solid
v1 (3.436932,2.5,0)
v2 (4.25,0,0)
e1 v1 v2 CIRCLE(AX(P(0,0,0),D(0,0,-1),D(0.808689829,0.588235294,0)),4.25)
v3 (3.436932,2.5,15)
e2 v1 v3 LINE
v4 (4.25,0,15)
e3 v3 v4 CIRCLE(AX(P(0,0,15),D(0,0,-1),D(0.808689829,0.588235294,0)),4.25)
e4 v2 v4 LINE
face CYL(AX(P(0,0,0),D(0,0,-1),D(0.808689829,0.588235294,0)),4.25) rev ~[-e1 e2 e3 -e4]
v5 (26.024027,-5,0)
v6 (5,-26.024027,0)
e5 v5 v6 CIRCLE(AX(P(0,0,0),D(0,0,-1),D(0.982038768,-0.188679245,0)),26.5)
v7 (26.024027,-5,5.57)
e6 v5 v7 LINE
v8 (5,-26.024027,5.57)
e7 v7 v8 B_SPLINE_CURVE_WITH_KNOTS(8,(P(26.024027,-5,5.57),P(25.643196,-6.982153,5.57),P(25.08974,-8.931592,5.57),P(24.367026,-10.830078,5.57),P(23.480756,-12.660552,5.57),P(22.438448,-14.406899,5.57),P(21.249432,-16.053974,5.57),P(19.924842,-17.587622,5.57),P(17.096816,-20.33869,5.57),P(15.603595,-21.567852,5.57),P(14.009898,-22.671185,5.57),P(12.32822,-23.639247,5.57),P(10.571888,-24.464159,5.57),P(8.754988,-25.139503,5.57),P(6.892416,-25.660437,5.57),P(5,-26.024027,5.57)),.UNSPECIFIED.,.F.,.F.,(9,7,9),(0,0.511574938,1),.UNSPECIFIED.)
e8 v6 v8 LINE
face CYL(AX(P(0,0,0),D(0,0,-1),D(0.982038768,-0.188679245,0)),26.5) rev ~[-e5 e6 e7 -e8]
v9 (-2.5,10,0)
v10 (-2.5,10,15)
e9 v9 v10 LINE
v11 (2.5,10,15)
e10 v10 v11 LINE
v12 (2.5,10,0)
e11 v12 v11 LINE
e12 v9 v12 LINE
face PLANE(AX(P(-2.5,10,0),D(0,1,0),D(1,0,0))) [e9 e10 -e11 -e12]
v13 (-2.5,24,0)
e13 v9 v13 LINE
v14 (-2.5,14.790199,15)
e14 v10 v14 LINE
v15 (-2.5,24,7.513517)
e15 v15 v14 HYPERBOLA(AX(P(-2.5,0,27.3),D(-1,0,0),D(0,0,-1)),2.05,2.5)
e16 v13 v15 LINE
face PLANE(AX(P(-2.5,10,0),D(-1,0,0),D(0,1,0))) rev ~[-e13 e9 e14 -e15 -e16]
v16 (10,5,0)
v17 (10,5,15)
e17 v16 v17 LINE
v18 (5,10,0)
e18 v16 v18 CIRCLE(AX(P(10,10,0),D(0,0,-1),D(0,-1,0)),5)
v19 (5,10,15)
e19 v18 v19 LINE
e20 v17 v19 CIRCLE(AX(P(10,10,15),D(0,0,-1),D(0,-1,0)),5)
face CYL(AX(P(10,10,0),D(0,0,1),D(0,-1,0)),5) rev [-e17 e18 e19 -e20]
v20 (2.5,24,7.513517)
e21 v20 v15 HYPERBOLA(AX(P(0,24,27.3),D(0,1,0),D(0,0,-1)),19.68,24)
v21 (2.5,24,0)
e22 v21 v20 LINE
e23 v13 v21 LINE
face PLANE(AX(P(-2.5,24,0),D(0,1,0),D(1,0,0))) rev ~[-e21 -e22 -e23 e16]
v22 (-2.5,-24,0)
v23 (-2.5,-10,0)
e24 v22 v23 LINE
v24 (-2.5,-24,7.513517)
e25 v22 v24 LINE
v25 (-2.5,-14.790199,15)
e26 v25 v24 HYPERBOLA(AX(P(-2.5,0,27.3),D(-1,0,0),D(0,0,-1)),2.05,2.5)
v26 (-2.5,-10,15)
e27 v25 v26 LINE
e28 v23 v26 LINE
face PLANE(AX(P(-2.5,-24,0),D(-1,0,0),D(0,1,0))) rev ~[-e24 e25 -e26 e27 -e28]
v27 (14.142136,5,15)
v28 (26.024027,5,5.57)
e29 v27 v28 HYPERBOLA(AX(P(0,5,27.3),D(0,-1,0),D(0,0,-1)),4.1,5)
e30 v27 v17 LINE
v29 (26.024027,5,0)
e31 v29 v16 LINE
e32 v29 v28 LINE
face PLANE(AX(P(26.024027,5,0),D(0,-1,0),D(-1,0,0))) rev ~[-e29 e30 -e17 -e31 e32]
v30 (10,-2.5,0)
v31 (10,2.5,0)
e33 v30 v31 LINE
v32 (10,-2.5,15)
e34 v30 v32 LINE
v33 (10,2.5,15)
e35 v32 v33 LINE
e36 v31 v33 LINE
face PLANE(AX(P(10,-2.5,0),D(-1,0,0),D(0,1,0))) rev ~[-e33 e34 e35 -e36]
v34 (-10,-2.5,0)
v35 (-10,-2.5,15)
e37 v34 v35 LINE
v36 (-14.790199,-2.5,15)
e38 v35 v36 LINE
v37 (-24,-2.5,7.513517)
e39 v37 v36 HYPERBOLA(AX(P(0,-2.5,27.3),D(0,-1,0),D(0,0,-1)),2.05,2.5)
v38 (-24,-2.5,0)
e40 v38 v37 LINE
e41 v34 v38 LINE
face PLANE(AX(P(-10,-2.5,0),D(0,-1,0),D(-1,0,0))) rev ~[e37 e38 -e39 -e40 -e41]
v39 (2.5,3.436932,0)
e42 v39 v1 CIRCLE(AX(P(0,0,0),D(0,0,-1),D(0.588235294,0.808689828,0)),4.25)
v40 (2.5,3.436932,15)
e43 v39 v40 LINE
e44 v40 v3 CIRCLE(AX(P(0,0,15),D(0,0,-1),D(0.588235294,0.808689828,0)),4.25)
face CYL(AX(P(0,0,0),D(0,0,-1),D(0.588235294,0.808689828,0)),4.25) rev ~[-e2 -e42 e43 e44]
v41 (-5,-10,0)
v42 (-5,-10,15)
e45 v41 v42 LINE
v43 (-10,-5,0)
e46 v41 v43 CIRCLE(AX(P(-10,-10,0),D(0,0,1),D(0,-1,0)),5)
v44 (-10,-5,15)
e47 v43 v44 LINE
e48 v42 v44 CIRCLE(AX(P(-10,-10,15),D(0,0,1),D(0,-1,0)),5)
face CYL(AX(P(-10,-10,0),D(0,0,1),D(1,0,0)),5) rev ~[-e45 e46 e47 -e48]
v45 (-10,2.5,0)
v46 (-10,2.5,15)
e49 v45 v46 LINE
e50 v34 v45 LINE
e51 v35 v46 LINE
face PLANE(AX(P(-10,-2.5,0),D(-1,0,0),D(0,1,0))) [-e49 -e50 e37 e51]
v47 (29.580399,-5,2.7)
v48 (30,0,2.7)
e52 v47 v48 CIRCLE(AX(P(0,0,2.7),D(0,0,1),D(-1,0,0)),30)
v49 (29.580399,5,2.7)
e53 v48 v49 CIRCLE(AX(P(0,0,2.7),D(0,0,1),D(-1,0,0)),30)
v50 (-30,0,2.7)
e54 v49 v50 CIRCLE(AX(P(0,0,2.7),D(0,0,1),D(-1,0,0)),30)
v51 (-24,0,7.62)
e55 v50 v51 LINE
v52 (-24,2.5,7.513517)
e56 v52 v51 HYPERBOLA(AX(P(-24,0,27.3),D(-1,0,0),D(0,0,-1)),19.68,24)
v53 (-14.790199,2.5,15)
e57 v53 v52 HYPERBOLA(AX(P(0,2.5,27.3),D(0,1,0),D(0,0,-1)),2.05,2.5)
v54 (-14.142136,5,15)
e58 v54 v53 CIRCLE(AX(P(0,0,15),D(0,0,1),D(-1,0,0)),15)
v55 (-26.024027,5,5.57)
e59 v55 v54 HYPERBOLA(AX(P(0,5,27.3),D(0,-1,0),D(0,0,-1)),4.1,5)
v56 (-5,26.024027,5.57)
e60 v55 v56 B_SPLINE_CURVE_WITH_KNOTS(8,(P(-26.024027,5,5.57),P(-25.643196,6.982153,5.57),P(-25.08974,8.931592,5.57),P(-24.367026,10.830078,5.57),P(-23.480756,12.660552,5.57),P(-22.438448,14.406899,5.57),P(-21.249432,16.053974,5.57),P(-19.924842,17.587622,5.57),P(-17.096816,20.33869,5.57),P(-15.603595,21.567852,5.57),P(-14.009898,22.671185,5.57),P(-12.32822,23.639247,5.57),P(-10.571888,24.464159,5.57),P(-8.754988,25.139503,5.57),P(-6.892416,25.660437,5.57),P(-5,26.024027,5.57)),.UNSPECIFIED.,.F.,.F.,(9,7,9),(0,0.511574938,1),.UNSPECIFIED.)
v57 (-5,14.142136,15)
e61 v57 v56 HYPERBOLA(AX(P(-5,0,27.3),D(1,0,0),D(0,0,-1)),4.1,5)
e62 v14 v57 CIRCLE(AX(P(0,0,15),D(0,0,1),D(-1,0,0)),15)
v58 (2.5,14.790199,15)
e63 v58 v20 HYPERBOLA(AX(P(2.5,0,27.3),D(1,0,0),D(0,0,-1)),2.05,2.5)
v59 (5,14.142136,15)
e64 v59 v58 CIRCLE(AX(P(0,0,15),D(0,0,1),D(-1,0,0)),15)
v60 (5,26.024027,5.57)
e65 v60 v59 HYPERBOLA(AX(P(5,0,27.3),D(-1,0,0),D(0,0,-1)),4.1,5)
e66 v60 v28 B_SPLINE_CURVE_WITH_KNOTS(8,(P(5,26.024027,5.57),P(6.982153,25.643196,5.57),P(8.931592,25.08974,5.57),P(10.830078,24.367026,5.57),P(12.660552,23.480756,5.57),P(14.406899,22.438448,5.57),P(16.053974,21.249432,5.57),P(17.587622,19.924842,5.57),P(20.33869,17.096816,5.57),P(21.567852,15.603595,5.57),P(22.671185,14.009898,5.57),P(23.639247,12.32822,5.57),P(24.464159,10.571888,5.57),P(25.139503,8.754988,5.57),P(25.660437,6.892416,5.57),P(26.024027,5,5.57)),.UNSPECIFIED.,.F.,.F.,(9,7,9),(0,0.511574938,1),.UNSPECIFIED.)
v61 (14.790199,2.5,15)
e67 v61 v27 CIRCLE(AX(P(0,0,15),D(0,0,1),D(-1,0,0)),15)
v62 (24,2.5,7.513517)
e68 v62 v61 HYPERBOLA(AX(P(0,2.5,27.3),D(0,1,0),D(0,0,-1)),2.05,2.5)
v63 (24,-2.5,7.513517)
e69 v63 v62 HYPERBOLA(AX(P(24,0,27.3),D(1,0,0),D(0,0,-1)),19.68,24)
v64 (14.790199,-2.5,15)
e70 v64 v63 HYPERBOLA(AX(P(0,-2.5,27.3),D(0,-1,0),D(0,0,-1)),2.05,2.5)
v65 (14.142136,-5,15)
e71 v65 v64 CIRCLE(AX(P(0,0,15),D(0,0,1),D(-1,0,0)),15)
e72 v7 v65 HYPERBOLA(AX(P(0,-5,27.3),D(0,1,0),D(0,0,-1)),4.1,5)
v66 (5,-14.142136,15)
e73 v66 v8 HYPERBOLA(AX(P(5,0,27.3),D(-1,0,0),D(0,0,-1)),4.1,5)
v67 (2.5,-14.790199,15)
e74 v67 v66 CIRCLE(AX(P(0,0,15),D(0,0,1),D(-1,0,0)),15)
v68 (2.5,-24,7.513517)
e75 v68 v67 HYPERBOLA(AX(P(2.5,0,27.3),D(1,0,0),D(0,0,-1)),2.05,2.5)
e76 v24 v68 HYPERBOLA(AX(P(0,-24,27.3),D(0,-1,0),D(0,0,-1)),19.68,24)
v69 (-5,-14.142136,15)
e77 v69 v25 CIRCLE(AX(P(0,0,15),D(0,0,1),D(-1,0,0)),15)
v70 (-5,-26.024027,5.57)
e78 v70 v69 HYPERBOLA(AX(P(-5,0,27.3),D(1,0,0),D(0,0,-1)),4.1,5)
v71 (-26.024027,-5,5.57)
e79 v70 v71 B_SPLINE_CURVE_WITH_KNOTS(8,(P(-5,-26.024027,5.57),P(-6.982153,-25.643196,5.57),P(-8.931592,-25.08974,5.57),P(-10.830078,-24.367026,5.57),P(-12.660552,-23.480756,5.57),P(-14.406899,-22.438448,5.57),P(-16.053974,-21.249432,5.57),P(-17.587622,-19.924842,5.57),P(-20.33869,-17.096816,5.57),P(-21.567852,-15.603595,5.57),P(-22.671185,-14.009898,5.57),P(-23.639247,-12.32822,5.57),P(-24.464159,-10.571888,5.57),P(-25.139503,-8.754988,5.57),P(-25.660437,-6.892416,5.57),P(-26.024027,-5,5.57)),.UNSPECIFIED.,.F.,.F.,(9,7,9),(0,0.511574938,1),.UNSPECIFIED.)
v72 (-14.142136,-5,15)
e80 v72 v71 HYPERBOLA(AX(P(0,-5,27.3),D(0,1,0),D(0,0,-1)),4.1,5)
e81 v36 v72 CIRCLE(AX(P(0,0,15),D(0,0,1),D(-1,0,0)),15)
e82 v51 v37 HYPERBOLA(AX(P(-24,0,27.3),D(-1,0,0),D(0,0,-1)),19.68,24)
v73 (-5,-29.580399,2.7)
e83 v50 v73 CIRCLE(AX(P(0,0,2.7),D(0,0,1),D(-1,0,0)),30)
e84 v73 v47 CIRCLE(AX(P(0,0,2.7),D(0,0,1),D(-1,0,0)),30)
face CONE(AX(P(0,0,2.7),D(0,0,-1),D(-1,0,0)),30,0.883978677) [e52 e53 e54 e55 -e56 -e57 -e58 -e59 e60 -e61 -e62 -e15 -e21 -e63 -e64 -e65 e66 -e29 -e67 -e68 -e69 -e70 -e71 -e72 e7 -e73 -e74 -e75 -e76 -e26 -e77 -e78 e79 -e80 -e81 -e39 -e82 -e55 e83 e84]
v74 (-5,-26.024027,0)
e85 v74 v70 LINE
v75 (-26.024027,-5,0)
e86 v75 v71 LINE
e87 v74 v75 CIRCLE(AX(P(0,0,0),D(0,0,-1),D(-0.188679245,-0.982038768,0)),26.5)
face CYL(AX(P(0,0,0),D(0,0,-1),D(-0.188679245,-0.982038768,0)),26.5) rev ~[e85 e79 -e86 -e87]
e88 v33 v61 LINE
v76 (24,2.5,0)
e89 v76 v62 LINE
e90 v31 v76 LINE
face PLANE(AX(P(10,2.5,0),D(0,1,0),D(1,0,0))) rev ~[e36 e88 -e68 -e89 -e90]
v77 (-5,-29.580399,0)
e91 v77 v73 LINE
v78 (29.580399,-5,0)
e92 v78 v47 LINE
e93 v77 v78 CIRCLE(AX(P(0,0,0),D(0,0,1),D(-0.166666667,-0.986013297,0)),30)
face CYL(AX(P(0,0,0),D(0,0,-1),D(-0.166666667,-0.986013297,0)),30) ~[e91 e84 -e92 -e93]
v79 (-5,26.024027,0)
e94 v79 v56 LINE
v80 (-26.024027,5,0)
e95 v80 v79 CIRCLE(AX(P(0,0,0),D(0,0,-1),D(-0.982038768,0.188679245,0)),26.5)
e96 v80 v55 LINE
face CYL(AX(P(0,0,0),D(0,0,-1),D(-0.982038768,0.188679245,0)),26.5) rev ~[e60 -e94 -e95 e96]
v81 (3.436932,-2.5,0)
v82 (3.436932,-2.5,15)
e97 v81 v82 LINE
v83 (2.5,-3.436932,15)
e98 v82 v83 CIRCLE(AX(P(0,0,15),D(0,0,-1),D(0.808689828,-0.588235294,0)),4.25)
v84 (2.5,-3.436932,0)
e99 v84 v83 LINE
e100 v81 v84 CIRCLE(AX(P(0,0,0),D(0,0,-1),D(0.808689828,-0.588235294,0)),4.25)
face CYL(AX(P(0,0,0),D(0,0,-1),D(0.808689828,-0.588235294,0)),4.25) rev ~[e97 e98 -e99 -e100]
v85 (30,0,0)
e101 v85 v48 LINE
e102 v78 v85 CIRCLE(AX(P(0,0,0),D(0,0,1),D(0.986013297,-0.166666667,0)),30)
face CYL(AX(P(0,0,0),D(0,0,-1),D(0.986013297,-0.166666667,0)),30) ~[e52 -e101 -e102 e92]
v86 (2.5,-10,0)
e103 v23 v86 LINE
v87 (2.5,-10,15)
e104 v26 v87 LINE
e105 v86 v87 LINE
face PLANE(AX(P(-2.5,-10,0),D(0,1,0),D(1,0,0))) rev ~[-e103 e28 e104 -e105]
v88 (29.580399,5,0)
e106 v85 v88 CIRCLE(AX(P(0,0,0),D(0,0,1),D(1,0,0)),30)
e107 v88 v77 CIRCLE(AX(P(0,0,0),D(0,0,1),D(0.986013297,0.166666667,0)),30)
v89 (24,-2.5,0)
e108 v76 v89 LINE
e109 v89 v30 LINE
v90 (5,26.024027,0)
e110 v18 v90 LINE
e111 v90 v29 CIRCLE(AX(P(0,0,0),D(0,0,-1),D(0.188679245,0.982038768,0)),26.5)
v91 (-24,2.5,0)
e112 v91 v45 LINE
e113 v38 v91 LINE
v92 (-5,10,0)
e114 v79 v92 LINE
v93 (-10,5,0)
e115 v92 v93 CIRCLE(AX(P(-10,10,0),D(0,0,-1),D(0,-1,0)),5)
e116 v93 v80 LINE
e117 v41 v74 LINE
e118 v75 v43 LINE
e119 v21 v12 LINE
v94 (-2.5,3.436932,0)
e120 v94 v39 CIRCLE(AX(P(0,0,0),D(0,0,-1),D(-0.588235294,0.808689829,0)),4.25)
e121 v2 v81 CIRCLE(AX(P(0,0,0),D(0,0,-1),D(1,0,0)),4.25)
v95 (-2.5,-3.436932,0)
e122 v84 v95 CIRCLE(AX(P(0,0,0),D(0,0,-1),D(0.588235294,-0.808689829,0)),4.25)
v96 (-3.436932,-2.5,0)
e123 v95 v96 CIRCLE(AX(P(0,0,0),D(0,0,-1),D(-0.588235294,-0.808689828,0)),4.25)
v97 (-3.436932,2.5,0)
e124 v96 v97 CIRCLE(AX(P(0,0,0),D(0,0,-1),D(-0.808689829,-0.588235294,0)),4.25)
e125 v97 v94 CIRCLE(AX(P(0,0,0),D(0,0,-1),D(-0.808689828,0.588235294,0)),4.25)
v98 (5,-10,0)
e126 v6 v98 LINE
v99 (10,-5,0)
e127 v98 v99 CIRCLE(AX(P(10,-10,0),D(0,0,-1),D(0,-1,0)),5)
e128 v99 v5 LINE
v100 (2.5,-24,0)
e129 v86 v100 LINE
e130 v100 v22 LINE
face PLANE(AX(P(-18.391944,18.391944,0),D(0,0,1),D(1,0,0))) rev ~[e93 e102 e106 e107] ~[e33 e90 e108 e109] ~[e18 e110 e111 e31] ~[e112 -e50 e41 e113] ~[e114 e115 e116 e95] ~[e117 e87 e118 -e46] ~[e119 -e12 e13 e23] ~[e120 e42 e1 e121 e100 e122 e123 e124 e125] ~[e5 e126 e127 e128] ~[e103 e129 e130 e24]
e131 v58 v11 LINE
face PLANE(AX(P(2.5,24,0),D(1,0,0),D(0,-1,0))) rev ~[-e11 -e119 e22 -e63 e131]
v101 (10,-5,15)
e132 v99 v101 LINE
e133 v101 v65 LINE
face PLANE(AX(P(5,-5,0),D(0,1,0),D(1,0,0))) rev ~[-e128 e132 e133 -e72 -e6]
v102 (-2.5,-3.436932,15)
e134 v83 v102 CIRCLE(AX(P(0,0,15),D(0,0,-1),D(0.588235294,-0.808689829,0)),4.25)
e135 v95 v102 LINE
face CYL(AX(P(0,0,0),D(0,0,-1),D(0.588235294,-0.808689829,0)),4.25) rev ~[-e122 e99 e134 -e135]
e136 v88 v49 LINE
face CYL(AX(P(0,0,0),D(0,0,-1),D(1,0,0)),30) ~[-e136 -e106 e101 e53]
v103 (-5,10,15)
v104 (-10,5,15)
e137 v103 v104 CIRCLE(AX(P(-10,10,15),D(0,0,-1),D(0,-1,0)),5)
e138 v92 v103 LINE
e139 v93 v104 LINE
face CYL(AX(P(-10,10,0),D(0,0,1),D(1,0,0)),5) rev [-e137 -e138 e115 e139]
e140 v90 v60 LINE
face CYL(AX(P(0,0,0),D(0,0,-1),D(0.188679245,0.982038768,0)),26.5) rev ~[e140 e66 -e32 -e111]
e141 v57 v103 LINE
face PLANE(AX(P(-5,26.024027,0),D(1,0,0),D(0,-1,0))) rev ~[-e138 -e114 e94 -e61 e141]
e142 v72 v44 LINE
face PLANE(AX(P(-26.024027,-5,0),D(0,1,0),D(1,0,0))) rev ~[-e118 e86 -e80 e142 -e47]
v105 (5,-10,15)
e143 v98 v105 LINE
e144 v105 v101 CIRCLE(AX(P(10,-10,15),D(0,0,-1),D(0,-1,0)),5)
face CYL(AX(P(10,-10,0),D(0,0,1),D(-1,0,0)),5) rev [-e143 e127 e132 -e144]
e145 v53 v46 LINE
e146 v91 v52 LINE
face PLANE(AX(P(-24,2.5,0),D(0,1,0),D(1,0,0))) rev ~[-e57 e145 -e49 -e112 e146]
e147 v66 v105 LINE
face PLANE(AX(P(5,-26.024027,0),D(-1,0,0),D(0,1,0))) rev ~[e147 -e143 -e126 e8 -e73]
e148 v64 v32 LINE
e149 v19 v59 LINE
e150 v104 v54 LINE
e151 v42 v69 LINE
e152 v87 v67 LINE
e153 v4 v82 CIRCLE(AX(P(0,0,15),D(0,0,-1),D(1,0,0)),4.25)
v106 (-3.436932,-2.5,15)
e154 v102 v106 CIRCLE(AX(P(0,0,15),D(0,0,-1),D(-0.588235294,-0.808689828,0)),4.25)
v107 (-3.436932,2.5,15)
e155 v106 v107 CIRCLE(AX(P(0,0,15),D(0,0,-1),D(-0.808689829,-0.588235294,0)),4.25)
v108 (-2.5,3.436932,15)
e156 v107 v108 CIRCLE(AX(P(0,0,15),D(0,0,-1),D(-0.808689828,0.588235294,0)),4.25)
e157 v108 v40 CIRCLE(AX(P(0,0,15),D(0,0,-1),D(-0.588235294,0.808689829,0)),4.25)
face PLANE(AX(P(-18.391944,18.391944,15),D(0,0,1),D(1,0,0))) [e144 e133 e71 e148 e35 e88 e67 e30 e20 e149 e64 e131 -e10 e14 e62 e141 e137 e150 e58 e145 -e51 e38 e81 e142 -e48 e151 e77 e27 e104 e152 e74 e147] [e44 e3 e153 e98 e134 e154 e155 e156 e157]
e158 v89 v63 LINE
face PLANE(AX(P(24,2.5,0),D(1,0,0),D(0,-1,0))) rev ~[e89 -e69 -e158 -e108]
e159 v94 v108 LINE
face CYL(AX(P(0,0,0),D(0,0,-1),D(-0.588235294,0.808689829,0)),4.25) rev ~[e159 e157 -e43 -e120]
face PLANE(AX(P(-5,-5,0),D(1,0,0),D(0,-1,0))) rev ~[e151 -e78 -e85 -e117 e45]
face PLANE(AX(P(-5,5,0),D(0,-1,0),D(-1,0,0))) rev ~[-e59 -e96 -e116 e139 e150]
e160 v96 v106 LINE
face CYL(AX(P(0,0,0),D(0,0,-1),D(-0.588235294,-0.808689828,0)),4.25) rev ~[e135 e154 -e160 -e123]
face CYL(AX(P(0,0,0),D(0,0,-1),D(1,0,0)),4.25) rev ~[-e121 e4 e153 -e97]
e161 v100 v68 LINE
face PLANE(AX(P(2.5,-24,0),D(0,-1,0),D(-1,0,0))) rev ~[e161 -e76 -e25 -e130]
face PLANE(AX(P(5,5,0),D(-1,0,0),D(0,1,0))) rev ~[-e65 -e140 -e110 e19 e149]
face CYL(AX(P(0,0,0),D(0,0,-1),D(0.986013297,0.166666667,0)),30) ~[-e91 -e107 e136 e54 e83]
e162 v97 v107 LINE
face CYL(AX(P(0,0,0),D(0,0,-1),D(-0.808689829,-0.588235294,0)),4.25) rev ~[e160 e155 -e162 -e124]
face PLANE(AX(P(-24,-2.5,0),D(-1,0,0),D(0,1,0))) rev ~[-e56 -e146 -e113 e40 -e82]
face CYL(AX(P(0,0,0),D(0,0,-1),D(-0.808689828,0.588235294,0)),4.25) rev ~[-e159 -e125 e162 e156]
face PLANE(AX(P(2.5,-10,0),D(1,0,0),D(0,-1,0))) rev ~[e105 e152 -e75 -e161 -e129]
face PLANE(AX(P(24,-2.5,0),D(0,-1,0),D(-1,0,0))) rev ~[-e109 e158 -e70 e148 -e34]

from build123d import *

# Parameters (mm, degrees)
F1_W     = 5
F1_H     = 2.5
F1_W_2   = 2.5
F1_H_2   = 5
F2_DEPTH = 15
F5_R     = 5


with BuildPart() as f2:
    # F1 (on Top) → F2 (new body)
    with BuildSketch(Plane.XY):
        with BuildLine():
            ThreePointArc((-26.0240273593, 5), (-18.7383297014, 18.7383297014), (-5, 26.0240273593))
            Line((-5, 26.0240273593), (-5, 29.5803989155))
            ThreePointArc((-5, 29.5803989155), (-21.2132034356, 21.2132034356), (-29.5803989155, 5))
            Line((-29.5803989155, 5), (-26.0240273593, 5))
        make_face()
        with BuildLine():
            ThreePointArc((-26.0240273593, -5), (-26.5, 0), (-26.0240273593, 5))
            Line((-26.0240273593, 5), (-29.5803989155, 5))
            ThreePointArc((-29.5803989155, 5), (-30, 0), (-29.5803989155, -5))
            Line((-29.5803989155, -5), (-26.0240273593, -5))
        make_face()
        with BuildLine():
            Line((-5, -29.5803989155), (-5, -26.0240273593))
            ThreePointArc((-5, -26.0240273593), (-18.7383297014, -18.7383297014), (-26.0240273593, -5))
            Line((-26.0240273593, -5), (-29.5803989155, -5))
            ThreePointArc((-29.5803989155, -5), (-21.2132034356, -21.2132034356), (-5, -29.5803989155))
        make_face()
        with BuildLine():
            Line((-24, 2.5), (-10, 2.5))
            Line((-10, 2.5), (-10, 5))
            Line((-10, 5), (-26.0240273593, 5))
            ThreePointArc((-26.0240273593, 5), (-26.5, 0), (-26.0240273593, -5))
            Line((-26.0240273593, -5), (-10, -5))
            Line((-10, -5), (-10, -2.5))
            Line((-10, -2.5), (-24, -2.5))
            Line((-24, -2.5), (-24, 2.5))
        make_face()
        with BuildLine():
            Line((5, -10), (2.5, -10))
            Line((2.5, -10), (2.5, -24))
            Line((2.5, -24), (-2.5, -24))
            Line((-2.5, -24), (-2.5, -10))
            Line((-2.5, -10), (-5, -10))
            Line((-5, -10), (-5, -26.0240273593))
            ThreePointArc((-5, -26.0240273593), (0, -26.5), (5, -26.0240273593))
            Line((5, -26.0240273593), (5, -10))
        make_face()
        with BuildLine():
            Line((10, 5), (10, 2.5))
            Line((10, 2.5), (24, 2.5))
            Line((24, 2.5), (24, -2.5))
            Line((24, -2.5), (10, -2.5))
            Line((10, -2.5), (10, -5))
            Line((10, -5), (26.0240273593, -5))
            ThreePointArc((26.0240273593, -5), (26.3807384755, -2.5113019509), (26.5, 0))
            ThreePointArc((26.5, 0), (26.3807384755, 2.5113019509), (26.0240273593, 5))
            Line((26.0240273593, 5), (10, 5))
        make_face()
        with BuildLine():
            Line((2.5, 24), (2.5, 10))
            Line((2.5, 10), (5, 10))
            Line((5, 10), (5, 26.0240273593))
            ThreePointArc((5, 26.0240273593), (0, 26.5), (-5, 26.0240273593))
            Line((-5, 26.0240273593), (-5, 10))
            Line((-5, 10), (-2.5, 10))
            Line((-2.5, 10), (-2.5, 24))
            Line((-2.5, 24), (2.5, 24))
        make_face()
        with BuildLine():
            Line((5, 29.5803989155), (5, 26.0240273593))
            ThreePointArc((5, 26.0240273593), (18.7383297014, 18.7383297014), (26.0240273593, 5))
            Line((26.0240273593, 5), (29.5803989155, 5))
            ThreePointArc((29.5803989155, 5), (21.2132034356, 21.2132034356), (5, 29.5803989155))
        make_face()
        with BuildLine():
            ThreePointArc((-5, 26.0240273593), (0, 26.5), (5, 26.0240273593))
            Line((5, 26.0240273593), (5, 29.5803989155))
            ThreePointArc((5, 29.5803989155), (0, 30), (-5, 29.5803989155))
            Line((-5, 29.5803989155), (-5, 26.0240273593))
        make_face()
        with BuildLine():
            Line((29.5803989155, 5), (26.0240273593, 5))
            ThreePointArc((26.0240273593, 5), (26.3807384755, 2.5113019509), (26.5, 0))
            ThreePointArc((26.5, 0), (26.3807384755, -2.5113019509), (26.0240273593, -5))
            Line((26.0240273593, -5), (29.5803989155, -5))
            ThreePointArc((29.5803989155, -5), (29.8949156836, -2.5087878084), (30, 0))
            ThreePointArc((30, 0), (29.8949156836, 2.5087878084), (29.5803989155, 5))
        make_face()
        with BuildLine():
            ThreePointArc((2.5, 3.4369317712), (3.00520382, 3.00520382), (3.4369317712, 2.5))
            Line((3.4369317712, 2.5), (5, 2.5))
            Line((5, 2.5), (5, 5))
            Line((5, 5), (2.5, 5))
            Line((2.5, 5), (2.5, 3.4369317712))
        make_face()
        with BuildLine():
            ThreePointArc((-2.5, 3.4369317712), (0, 4.25), (2.5, 3.4369317712))
            Line((2.5, 3.4369317712), (2.5, 5))
            Line((2.5, 5), (-2.5, 5))
            Line((-2.5, 5), (-2.5, 3.4369317712))
        make_face()
        with BuildLine():
            ThreePointArc((-3.4369317712, 2.5), (-3.00520382, 3.00520382), (-2.5, 3.4369317712))
            Line((-2.5, 3.4369317712), (-2.5, 5))
            Line((-2.5, 5), (-5, 5))
            Line((-5, 5), (-5, 2.5))
            Line((-5, 2.5), (-3.4369317712, 2.5))
        make_face()
        with BuildLine():
            ThreePointArc((-3.4369317712, -2.5), (-4.25, 0), (-3.4369317712, 2.5))
            Line((-3.4369317712, 2.5), (-5, 2.5))
            Line((-5, 2.5), (-5, -2.5))
            Line((-5, -2.5), (-3.4369317712, -2.5))
        make_face()
        with BuildLine():
            Line((-2.5, -5), (-2.5, -3.4369317712))
            ThreePointArc((-2.5, -3.4369317712), (-3.00520382, -3.00520382), (-3.4369317712, -2.5))
            Line((-3.4369317712, -2.5), (-5, -2.5))
            Line((-5, -2.5), (-5, -5))
            Line((-5, -5), (-2.5, -5))
        make_face()
        with BuildLine():
            Line((2.5, -5), (2.5, -3.4369317712))
            ThreePointArc((2.5, -3.4369317712), (0, -4.25), (-2.5, -3.4369317712))
            Line((-2.5, -3.4369317712), (-2.5, -5))
            Line((-2.5, -5), (2.5, -5))
        make_face()
        with BuildLine():
            Line((5, -2.5), (3.4369317712, -2.5))
            ThreePointArc((3.4369317712, -2.5), (3.00520382, -3.00520382), (2.5, -3.4369317712))
            Line((2.5, -3.4369317712), (2.5, -5))
            Line((2.5, -5), (5, -5))
            Line((5, -5), (5, -2.5))
        make_face()
        with BuildLine():
            ThreePointArc((3.4369317712, 2.5), (4.041624675, 1.3144466464), (4.25, 0))
            ThreePointArc((4.25, 0), (4.041624675, -1.3144466464), (3.4369317712, -2.5))
            Line((3.4369317712, -2.5), (5, -2.5))
            Line((5, -2.5), (5, 2.5))
            Line((5, 2.5), (3.4369317712, 2.5))
        make_face()
        with BuildLine():
            ThreePointArc((26.0240273593, -5), (18.7383297014, -18.7383297014), (5, -26.0240273593))
            Line((5, -26.0240273593), (5, -29.5803989155))
            ThreePointArc((5, -29.5803989155), (21.2132034356, -21.2132034356), (29.5803989155, -5))
            Line((29.5803989155, -5), (26.0240273593, -5))
        make_face()
        with BuildLine():
            Line((5, -29.5803989155), (5, -26.0240273593))
            ThreePointArc((5, -26.0240273593), (0, -26.5), (-5, -26.0240273593))
            Line((-5, -26.0240273593), (-5, -29.5803989155))
            ThreePointArc((-5, -29.5803989155), (0, -30), (5, -29.5803989155))
        make_face()
        with Locations((-7.5, 3.75)):
            Rectangle(F1_W, F1_H)
        with Locations((7.5, 3.75)):
            Rectangle(F1_W, F1_H)
        with Locations((3.75, -7.5)):
            Rectangle(F1_W_2, F1_H_2)
        with Locations((0, -7.5)):
            Rectangle(F1_W, F1_H_2)
        with Locations((-3.75, -7.5)):
            Rectangle(F1_W_2, F1_H_2)
        with Locations((-7.5, -3.75)):
            Rectangle(F1_W, F1_H)
        with Locations((7.5, -3.75)):
            Rectangle(F1_W, F1_H)
        with Locations((3.75, 7.5)):
            Rectangle(F1_W_2, F1_H_2)
        with Locations((0, 7.5)):
            Rectangle(F1_W, F1_H_2)
        with Locations((-7.5, 0)):
            Rectangle(F1_W, F1_H_2)
        with Locations((7.5, 0)):
            Rectangle(F1_W, F1_H_2)
        with Locations((-3.75, 7.5)):
            Rectangle(F1_W_2, F1_H_2)
    extrude(amount=F2_DEPTH)

    # F3 (on Front) → F4 (revolve, cut)
    with BuildSketch(Plane.XZ):
        Polygon((-30, 15), (-30, 2.7), (-15, 15), align=None)
    revolve(axis=Axis((0, 0, 7.5), (0, 0, 1)), mode=Mode.SUBTRACT)

    # F5
    f5_edges = [f2.edges().sort_by_distance(p)[0] for p in [
        (5, 5, 7.5),
        (5, -5, 7.5),
        (-5, -5, 7.5),
        (-5, 5, 7.5),
    ]]
    fillet(f5_edges, radius=F5_R)


solid = f2.part
